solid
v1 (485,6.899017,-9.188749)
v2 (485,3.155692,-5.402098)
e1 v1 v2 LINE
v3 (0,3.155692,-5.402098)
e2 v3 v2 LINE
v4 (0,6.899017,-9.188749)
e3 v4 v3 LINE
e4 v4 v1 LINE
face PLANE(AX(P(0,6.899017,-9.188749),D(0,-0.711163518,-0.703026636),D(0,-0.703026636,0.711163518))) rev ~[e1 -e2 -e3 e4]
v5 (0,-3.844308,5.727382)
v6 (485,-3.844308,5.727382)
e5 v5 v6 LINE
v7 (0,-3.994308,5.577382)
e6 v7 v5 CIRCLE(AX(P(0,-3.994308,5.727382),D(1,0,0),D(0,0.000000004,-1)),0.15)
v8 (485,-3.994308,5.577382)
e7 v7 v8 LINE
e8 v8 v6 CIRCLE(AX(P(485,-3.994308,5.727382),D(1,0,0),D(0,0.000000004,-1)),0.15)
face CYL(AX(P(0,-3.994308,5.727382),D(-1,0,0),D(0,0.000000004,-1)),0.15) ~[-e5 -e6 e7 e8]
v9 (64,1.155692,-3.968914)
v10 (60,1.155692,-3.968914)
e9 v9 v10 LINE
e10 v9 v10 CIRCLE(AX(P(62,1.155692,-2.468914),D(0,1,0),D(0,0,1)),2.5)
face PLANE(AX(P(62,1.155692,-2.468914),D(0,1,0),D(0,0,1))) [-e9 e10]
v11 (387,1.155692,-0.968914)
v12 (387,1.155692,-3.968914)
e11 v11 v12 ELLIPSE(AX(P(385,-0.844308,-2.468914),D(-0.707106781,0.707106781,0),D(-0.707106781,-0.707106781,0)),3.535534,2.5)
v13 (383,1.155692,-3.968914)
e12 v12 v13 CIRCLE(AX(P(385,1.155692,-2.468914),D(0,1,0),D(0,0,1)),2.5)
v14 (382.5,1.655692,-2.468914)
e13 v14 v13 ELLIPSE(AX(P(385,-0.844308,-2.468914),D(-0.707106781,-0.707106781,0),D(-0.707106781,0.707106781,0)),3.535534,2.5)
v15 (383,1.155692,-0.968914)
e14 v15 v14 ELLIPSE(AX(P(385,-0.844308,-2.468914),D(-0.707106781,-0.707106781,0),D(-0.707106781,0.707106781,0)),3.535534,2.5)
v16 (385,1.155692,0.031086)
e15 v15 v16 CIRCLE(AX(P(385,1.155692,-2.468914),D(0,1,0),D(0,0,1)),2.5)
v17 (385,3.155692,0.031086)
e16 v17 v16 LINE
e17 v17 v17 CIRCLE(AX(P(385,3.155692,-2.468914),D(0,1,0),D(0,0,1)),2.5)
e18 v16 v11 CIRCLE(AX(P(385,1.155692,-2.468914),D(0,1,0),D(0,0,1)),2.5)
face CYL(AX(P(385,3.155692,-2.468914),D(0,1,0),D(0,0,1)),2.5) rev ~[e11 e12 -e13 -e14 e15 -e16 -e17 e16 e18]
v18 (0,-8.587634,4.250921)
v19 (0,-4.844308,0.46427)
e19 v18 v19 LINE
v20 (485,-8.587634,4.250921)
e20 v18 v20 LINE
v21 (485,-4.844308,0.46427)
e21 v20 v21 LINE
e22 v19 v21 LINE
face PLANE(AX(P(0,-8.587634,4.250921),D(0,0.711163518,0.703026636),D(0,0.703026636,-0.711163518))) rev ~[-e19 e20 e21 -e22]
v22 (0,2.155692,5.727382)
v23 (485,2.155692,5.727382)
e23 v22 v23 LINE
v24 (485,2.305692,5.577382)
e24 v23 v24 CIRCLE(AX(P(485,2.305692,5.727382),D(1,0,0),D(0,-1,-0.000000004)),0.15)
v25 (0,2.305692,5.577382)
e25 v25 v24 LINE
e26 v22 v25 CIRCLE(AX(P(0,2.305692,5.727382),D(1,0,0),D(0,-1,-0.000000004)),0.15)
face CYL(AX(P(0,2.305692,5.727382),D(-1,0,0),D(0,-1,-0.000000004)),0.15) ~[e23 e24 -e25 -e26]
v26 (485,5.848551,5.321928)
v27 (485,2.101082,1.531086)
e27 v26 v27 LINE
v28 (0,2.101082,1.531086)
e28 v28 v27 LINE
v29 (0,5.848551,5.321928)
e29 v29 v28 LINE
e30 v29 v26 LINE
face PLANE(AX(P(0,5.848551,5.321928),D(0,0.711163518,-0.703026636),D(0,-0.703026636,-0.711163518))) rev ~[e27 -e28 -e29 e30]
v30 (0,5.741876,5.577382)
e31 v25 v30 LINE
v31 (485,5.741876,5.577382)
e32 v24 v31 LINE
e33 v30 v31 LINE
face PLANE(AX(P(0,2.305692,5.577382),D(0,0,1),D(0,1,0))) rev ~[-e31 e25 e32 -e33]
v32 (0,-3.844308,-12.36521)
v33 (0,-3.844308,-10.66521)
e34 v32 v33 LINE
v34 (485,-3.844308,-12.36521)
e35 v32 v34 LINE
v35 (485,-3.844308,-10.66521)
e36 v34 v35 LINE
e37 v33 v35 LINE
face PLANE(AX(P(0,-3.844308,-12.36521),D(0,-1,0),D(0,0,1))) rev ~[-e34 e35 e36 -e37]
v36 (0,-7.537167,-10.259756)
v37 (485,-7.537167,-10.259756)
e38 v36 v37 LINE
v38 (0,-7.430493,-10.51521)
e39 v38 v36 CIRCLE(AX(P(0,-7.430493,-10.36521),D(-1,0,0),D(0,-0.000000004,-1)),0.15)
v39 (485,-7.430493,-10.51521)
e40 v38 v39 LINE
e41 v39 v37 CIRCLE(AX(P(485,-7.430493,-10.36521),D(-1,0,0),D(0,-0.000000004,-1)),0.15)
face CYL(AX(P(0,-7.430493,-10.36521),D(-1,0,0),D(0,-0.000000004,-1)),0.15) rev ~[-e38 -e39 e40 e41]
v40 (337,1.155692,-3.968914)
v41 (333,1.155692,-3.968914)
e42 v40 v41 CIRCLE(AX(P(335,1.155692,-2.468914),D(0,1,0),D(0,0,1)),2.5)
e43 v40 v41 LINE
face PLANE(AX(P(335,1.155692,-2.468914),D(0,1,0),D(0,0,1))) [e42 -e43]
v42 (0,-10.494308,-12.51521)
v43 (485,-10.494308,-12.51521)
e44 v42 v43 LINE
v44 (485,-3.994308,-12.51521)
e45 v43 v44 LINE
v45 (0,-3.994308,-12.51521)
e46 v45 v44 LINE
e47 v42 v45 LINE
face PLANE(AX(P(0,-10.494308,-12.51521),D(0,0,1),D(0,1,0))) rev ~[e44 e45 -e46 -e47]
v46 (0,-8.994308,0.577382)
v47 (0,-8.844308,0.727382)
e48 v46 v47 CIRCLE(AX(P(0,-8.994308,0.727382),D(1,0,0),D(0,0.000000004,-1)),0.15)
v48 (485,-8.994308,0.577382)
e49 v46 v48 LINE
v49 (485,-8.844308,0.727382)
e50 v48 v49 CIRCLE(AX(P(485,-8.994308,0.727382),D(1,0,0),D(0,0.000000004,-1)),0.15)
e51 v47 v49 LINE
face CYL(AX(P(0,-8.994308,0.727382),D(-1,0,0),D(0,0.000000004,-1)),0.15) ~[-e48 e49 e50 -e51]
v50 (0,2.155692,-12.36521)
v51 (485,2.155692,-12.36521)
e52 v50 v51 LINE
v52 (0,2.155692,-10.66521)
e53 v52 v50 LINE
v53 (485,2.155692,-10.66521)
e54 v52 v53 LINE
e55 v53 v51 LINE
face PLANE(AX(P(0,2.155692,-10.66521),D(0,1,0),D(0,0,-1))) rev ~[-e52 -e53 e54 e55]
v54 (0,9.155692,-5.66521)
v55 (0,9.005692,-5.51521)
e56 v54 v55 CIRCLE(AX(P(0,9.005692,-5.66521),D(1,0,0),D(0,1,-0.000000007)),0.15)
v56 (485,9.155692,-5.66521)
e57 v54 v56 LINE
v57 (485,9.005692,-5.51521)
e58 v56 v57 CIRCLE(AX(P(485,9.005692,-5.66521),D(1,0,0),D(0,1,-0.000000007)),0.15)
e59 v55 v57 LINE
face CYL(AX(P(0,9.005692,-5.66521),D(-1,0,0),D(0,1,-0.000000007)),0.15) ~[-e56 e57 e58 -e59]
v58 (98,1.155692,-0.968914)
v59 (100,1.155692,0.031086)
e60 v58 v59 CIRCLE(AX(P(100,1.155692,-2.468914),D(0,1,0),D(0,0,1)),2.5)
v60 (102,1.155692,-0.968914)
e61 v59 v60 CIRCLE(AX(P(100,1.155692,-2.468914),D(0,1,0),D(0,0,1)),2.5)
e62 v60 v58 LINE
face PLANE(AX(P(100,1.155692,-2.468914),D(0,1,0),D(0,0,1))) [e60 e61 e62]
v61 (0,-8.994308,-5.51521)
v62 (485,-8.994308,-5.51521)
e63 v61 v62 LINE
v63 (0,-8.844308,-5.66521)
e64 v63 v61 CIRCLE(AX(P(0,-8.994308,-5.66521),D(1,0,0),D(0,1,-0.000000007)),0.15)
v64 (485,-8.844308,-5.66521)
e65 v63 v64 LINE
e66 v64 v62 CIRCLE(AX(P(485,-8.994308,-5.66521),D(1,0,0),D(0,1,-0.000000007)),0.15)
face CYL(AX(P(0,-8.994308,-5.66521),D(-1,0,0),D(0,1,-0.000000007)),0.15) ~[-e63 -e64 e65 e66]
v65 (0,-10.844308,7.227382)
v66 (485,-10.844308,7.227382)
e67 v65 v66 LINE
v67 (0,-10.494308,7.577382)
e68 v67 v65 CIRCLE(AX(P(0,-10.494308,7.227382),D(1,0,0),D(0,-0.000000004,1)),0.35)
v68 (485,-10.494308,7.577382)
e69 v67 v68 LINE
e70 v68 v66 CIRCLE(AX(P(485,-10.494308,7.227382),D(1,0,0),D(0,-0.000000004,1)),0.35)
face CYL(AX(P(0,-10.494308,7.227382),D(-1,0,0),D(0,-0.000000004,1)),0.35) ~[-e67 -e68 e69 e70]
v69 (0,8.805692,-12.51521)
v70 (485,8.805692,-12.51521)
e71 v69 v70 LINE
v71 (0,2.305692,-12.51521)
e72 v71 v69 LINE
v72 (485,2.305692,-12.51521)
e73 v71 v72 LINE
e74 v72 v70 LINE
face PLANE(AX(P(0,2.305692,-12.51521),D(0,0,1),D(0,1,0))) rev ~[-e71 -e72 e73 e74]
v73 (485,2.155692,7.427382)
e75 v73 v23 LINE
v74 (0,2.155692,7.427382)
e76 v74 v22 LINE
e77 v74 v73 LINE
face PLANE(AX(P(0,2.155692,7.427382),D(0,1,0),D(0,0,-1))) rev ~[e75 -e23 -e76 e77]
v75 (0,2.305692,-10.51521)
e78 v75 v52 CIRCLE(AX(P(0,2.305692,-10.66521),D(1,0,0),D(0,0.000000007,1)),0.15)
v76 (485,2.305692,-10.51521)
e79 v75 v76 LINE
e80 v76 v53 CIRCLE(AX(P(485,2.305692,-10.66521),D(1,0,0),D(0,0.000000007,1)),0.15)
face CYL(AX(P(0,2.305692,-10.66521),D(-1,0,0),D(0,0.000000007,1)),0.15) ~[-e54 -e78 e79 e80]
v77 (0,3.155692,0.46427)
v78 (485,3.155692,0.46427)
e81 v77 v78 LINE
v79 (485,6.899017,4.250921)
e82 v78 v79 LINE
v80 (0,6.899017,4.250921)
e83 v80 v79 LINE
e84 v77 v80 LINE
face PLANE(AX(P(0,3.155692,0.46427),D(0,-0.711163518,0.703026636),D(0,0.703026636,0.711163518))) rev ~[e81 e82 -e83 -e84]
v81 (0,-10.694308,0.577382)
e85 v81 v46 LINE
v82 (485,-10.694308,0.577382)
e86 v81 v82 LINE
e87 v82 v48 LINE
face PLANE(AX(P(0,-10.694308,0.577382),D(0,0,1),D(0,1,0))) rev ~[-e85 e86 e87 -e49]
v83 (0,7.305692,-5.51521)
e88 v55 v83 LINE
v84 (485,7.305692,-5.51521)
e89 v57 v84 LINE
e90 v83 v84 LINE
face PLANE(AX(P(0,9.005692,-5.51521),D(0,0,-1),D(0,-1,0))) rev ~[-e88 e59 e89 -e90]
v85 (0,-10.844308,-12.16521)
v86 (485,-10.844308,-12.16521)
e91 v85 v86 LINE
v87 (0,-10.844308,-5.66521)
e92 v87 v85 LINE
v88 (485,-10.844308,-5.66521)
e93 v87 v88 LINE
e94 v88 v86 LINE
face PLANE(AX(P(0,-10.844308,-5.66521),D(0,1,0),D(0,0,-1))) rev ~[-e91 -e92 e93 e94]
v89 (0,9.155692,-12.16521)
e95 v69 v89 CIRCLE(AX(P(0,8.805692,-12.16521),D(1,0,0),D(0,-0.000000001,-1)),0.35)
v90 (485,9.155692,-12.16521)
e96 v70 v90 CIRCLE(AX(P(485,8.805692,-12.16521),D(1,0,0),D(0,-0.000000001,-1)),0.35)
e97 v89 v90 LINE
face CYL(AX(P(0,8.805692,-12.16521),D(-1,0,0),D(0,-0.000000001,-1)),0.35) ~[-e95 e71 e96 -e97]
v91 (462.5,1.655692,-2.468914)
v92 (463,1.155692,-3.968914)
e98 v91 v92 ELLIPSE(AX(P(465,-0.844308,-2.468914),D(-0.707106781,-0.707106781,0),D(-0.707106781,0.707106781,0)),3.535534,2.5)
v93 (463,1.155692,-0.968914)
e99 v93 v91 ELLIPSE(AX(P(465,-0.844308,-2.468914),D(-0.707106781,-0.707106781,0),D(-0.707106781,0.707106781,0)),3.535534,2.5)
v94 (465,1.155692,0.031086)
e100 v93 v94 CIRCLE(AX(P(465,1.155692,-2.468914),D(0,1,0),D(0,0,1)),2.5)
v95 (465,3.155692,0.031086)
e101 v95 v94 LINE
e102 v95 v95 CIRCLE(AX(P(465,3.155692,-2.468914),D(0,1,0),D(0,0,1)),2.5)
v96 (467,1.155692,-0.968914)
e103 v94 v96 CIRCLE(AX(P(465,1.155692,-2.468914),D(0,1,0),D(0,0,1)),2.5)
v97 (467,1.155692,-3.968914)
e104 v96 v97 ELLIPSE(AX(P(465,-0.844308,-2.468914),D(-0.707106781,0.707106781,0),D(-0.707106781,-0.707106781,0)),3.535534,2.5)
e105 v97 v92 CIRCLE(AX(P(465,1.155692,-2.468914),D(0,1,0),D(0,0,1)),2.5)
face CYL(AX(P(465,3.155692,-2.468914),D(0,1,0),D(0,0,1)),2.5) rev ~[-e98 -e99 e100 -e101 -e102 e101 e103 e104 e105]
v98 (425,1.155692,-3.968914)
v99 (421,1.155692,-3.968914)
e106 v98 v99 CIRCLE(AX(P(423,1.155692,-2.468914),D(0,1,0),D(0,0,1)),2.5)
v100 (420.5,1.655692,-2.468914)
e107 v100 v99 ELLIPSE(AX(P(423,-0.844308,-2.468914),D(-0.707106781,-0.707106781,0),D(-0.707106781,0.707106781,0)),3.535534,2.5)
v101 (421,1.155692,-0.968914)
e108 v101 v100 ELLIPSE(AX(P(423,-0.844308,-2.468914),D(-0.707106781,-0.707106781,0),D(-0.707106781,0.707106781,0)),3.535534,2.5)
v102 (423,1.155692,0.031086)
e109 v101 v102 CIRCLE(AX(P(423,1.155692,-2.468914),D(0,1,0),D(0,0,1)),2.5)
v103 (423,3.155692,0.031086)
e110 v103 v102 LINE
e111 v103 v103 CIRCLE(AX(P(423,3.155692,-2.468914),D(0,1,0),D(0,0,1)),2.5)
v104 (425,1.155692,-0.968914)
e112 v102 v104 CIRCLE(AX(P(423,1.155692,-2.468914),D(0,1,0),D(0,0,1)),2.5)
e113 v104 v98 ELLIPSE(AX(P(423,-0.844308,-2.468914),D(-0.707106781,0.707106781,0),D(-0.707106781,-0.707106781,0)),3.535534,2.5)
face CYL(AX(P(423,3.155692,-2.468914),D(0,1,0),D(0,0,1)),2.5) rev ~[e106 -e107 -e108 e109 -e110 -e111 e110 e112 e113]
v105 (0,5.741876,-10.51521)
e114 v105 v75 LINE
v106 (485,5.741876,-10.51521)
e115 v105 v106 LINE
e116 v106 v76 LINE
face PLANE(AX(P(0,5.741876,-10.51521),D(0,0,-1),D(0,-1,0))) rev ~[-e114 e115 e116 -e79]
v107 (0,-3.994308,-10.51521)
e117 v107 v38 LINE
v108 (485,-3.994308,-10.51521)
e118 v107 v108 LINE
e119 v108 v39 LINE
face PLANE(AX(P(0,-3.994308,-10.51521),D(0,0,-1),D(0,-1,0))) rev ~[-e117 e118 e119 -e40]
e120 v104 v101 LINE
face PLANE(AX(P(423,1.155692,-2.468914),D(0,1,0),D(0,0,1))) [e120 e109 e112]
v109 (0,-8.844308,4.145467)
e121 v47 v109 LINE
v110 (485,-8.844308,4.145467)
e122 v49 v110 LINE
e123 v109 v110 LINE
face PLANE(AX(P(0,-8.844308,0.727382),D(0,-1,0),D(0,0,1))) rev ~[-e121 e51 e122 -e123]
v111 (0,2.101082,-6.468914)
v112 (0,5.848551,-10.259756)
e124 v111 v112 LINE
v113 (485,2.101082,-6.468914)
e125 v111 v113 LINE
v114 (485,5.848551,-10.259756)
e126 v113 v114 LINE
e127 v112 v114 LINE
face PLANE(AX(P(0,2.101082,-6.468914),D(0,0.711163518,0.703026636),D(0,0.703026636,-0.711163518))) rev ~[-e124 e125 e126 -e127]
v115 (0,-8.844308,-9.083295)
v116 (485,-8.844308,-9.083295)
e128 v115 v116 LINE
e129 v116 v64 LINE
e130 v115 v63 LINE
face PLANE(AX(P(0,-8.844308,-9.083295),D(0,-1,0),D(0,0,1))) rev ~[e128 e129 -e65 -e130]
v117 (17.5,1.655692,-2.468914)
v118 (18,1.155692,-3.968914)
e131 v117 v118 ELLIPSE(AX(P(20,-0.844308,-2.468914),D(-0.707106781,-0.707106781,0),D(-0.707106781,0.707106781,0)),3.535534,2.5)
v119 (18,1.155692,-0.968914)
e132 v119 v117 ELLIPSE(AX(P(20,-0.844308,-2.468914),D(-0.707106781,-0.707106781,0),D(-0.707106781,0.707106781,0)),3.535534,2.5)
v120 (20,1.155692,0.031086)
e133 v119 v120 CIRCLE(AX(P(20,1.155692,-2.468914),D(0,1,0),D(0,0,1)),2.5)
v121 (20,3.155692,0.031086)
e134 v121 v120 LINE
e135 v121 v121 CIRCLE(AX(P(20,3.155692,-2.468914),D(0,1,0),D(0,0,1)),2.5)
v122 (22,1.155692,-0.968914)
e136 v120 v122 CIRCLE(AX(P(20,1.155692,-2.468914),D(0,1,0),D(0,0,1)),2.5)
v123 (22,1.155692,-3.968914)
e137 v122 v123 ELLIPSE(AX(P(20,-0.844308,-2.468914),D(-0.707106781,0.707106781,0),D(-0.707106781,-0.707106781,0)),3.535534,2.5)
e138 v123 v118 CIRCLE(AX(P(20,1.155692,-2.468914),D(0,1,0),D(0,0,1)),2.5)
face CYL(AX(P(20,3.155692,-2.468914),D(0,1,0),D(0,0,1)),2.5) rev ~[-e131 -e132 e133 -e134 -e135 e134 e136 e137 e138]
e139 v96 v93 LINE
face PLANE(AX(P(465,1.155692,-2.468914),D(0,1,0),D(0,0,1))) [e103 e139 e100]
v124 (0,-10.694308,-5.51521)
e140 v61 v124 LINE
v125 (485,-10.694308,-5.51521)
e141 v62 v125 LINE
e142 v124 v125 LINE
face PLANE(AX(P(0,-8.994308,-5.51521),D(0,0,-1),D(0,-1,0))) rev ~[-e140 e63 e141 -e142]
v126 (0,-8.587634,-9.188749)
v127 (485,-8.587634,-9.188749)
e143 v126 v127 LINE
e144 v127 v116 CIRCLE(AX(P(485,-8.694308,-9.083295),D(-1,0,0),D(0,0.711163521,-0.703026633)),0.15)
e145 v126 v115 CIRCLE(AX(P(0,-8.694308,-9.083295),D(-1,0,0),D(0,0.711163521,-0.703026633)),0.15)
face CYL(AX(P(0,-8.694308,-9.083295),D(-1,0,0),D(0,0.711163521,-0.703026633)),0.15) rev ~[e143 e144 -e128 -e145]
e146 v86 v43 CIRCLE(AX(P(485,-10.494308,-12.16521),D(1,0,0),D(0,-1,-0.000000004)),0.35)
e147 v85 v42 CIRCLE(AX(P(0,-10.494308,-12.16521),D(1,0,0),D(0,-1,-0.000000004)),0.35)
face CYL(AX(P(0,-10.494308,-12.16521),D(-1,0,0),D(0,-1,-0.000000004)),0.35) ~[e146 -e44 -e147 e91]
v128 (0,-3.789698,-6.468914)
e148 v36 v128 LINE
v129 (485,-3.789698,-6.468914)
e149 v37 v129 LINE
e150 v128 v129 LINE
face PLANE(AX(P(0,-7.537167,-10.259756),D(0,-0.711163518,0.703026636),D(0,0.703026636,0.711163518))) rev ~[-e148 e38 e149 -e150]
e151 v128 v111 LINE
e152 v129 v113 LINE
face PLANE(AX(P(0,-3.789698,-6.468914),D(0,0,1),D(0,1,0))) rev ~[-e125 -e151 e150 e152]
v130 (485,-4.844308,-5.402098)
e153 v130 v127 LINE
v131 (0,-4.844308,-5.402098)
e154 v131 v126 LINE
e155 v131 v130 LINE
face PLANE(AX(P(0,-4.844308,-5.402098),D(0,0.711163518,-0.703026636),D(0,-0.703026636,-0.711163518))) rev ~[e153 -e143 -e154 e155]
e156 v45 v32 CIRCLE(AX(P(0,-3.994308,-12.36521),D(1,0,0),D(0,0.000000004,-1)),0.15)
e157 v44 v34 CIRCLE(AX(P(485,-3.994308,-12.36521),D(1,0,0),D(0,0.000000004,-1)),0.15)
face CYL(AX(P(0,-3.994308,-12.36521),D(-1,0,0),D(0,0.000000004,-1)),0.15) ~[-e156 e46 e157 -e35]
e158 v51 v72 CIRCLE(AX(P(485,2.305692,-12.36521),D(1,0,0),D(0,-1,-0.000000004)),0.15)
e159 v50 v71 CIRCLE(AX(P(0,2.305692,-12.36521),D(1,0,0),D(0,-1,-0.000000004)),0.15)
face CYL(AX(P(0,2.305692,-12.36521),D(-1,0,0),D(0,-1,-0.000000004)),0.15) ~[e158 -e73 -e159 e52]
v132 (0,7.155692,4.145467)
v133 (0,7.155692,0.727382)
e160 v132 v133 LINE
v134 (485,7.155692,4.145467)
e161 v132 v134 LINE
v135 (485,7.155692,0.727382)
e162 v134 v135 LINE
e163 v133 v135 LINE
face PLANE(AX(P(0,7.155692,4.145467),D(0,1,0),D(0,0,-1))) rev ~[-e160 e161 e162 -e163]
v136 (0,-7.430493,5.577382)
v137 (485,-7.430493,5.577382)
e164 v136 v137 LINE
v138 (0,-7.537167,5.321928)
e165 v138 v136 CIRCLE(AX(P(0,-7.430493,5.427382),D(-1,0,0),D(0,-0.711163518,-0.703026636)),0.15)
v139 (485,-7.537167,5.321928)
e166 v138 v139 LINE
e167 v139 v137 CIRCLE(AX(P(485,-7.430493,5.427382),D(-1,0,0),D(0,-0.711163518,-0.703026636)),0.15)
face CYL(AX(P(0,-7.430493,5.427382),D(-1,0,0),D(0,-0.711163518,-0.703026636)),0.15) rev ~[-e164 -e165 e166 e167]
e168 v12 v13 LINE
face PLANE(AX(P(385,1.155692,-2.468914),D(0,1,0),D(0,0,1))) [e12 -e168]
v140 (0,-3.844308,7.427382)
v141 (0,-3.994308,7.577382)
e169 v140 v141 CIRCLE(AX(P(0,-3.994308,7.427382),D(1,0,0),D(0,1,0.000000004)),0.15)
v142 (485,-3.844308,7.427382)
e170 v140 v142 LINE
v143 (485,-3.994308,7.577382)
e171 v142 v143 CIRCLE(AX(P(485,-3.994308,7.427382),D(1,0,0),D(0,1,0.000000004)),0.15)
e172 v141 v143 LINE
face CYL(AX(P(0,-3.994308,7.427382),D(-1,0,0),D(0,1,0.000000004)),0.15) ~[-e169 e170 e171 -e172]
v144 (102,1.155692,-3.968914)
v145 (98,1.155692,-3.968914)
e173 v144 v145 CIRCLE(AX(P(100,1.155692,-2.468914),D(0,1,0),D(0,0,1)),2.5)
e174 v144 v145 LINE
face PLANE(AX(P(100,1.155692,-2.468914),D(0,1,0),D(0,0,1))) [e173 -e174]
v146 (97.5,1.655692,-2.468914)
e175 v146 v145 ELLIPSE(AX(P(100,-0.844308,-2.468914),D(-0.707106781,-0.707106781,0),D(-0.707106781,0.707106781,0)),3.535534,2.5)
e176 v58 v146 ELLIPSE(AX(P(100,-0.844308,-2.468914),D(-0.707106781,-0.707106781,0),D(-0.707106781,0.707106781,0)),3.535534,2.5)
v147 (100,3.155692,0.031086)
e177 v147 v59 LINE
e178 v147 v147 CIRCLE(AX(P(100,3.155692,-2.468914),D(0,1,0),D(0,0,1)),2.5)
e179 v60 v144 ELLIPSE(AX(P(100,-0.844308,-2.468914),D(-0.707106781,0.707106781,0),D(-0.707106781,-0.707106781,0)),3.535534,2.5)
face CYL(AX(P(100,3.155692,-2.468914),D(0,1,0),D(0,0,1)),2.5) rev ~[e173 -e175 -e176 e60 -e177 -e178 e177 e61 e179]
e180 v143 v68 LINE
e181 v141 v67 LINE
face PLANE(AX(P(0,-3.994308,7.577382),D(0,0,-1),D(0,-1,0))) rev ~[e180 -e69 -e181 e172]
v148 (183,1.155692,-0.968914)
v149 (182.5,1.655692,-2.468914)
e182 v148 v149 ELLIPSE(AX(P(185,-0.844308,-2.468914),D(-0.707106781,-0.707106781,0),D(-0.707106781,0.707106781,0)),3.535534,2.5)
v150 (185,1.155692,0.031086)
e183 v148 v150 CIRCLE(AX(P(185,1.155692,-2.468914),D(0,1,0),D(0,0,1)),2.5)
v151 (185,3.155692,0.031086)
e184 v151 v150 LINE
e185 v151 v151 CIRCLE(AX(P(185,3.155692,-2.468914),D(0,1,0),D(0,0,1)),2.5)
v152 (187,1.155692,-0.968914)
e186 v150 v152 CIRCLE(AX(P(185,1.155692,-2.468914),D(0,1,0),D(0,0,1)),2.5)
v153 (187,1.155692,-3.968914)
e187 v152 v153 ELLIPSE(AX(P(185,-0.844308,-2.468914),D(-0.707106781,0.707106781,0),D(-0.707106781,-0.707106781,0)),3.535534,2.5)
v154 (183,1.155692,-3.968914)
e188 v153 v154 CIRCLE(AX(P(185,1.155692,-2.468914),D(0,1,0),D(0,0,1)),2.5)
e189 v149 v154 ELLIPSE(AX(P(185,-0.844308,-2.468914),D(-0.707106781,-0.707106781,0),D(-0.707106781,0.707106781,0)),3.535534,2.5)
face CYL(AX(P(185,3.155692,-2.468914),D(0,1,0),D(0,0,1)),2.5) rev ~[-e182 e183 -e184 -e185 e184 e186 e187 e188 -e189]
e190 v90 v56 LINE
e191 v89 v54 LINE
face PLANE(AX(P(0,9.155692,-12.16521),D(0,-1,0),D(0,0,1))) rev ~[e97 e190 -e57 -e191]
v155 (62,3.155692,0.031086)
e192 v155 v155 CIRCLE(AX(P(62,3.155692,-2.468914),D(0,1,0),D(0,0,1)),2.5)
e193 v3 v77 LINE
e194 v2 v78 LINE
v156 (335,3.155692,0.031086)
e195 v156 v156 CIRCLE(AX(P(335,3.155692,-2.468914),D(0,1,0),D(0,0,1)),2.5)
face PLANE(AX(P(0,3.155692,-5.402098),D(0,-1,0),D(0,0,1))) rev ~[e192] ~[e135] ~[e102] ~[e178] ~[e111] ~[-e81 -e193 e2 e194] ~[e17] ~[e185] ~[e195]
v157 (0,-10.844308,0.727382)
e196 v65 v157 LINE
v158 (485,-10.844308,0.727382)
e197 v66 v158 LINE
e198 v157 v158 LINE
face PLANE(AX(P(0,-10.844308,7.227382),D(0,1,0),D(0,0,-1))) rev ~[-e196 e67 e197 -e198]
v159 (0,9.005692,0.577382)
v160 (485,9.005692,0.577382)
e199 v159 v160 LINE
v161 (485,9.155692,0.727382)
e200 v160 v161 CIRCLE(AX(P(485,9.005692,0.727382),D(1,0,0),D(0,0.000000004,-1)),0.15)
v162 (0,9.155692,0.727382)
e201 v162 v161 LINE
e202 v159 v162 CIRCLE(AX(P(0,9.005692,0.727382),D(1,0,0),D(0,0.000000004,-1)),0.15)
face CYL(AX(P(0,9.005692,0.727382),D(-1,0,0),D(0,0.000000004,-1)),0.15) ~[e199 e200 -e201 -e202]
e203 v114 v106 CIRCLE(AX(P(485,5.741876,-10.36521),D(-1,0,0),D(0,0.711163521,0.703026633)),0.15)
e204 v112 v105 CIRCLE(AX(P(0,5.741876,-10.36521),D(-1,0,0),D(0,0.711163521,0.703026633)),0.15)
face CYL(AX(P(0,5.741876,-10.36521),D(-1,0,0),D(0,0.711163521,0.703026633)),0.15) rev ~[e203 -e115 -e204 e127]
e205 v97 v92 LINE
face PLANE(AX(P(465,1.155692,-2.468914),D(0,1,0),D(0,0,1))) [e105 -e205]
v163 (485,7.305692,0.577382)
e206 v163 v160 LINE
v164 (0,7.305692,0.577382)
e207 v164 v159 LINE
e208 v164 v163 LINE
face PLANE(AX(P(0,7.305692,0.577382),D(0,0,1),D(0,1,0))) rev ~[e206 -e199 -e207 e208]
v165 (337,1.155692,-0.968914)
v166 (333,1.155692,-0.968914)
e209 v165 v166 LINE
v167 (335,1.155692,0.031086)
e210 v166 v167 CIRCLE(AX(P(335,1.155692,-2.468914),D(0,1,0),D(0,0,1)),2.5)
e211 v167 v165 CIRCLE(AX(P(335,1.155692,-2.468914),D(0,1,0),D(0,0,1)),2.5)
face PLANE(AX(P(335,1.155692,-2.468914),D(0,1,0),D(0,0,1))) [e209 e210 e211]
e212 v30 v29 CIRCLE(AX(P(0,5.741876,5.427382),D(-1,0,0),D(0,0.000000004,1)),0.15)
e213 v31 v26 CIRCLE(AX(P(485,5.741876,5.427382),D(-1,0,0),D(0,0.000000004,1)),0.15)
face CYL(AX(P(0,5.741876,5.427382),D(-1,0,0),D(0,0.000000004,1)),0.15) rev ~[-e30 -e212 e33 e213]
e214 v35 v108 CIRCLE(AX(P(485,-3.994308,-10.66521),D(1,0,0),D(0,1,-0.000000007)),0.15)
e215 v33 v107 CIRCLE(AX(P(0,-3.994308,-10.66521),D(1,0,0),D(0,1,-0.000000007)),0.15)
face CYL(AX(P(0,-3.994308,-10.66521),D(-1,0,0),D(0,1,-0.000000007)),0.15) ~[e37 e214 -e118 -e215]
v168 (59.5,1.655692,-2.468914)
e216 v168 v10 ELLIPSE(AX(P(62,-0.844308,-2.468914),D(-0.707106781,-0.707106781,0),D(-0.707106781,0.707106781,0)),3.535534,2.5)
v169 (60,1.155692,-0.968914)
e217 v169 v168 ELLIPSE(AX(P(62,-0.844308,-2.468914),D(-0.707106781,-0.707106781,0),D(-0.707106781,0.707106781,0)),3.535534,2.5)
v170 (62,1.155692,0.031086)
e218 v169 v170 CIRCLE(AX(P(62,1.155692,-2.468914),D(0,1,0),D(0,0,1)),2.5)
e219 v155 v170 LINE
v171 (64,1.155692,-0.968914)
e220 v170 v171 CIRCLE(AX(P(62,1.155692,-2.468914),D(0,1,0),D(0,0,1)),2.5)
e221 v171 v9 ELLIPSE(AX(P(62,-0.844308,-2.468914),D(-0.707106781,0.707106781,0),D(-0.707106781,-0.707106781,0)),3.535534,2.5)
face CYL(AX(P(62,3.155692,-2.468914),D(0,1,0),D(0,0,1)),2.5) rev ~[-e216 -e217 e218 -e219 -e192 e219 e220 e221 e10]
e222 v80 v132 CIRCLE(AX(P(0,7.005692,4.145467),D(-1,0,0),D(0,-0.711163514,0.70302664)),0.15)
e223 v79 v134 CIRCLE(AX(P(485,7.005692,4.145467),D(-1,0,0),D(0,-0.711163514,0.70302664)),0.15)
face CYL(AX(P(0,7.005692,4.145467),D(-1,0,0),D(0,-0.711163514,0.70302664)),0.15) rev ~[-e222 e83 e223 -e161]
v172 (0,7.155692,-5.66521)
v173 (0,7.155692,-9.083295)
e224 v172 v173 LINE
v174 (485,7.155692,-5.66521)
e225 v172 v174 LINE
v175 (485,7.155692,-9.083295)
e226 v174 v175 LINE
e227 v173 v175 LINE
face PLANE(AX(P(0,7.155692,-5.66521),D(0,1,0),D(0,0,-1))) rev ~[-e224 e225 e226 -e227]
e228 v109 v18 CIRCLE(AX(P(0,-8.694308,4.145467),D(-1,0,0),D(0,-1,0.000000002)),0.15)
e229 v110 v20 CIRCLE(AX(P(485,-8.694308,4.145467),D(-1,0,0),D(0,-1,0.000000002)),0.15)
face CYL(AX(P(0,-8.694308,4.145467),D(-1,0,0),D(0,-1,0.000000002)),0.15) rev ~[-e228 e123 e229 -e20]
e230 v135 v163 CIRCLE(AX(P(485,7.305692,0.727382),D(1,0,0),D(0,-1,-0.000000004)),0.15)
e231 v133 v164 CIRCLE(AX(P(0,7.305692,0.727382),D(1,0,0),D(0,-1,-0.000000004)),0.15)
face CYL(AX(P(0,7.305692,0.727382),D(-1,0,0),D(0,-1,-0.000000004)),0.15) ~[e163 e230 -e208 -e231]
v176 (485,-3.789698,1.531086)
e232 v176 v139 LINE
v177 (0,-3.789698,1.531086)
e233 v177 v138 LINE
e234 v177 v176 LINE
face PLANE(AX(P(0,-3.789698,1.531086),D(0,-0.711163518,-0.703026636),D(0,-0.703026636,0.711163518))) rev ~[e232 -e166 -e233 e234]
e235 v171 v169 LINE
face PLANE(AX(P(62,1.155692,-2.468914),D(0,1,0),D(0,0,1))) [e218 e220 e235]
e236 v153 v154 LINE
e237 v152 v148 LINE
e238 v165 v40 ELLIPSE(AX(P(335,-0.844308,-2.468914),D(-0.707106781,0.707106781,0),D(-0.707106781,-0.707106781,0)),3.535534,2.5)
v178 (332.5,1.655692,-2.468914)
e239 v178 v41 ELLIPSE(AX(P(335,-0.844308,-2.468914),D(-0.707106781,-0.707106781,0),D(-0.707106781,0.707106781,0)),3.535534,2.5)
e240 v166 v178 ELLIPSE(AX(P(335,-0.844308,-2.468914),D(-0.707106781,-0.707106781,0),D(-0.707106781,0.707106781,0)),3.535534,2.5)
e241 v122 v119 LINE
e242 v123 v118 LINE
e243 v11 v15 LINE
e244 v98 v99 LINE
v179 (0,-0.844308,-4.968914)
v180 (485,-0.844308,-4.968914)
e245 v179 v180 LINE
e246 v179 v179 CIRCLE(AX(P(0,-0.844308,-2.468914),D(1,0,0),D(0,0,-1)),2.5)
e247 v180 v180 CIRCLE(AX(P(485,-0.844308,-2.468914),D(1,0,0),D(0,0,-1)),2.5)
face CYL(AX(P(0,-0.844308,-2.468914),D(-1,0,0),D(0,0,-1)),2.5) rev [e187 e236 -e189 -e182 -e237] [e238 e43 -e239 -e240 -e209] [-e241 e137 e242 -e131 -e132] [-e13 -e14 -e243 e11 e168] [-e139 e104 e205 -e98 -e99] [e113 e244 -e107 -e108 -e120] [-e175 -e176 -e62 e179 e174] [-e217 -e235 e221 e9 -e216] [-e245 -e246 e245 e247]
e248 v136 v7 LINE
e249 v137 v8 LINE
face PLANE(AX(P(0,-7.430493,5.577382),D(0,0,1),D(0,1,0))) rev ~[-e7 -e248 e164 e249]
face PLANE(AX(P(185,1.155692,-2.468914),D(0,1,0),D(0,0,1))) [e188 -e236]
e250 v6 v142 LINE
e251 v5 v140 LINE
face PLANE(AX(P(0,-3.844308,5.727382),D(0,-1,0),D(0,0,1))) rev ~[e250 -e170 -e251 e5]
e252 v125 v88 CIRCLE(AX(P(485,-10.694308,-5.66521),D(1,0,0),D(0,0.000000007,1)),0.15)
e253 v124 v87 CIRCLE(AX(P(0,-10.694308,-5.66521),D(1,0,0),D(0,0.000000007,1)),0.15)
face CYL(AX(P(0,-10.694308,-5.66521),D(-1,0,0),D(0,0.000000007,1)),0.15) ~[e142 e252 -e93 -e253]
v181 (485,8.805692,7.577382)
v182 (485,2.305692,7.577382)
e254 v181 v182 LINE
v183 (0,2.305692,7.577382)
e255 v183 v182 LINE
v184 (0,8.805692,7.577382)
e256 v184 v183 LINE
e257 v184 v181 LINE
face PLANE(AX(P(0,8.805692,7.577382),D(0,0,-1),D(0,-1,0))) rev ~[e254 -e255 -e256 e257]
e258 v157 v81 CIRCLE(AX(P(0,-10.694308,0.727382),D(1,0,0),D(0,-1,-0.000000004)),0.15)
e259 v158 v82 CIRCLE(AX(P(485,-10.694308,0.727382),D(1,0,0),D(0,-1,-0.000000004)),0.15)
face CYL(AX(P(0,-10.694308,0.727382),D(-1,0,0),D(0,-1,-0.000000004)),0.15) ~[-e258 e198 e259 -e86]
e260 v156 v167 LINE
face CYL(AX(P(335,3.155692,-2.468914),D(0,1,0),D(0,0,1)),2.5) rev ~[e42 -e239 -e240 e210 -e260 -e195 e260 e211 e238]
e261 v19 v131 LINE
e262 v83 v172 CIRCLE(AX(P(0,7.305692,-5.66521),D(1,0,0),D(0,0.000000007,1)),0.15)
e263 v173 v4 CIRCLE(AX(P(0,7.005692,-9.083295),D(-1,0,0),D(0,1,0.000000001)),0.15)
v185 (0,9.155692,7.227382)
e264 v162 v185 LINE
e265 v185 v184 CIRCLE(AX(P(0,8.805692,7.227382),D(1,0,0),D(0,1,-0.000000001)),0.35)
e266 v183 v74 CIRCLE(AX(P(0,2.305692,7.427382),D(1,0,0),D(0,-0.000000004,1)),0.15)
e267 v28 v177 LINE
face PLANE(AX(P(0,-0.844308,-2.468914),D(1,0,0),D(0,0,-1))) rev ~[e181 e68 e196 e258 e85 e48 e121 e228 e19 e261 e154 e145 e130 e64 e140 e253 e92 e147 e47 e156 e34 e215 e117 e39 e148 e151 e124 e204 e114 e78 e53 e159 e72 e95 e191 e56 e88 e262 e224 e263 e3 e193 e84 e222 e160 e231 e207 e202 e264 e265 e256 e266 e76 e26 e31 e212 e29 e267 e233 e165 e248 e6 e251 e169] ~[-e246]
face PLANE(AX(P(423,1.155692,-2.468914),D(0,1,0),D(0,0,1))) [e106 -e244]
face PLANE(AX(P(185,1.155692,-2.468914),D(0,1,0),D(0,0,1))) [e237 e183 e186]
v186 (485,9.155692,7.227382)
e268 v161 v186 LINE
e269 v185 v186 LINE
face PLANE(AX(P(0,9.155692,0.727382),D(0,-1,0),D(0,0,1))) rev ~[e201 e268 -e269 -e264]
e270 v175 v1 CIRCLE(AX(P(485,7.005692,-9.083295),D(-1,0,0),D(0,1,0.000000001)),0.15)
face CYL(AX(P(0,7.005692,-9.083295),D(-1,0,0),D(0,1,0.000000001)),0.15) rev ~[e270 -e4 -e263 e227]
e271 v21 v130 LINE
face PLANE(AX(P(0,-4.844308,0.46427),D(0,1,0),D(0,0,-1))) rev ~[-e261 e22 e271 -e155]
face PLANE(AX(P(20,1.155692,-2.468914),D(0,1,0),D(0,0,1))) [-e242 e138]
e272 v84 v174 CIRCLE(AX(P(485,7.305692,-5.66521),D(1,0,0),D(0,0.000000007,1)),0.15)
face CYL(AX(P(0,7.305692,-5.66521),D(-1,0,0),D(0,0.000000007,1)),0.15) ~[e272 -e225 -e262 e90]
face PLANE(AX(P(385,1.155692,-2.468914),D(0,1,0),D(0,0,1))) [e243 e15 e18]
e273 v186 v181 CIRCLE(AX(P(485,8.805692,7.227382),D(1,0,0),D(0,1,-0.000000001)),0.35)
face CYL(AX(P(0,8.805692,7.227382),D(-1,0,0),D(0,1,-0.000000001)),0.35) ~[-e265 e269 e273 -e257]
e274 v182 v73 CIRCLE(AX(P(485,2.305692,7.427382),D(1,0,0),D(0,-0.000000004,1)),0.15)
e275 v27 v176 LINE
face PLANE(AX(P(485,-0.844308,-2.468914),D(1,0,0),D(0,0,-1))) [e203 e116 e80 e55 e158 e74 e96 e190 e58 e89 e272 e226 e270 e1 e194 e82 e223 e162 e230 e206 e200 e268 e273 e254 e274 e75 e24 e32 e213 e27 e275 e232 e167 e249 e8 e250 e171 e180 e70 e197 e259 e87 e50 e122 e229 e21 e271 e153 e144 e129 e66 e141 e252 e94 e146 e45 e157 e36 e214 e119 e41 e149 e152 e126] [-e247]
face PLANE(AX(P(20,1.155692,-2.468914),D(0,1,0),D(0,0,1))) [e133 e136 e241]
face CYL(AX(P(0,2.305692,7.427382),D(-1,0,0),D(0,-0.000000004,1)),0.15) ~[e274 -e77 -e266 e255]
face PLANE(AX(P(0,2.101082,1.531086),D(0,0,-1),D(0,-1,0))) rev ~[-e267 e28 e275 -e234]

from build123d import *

# Parameters (mm, degrees)
SKETCH1_R           = 2.5
BOSS_EXTRUDE1_DEPTH = 485
SKETCH2_R           = 2.5
CUT_EXTRUDE1_DEPTH  = 2


with BuildPart() as part:
    # Sketch1 → Boss-Extrude1 (new body)
    with BuildSketch(Plane(origin=(0, 0, 0), x_dir=(0, 0, -1), z_dir=(1, 0, 0))):
        with BuildLine():
            Line((-7.427382464, 2.155691805), (-5.727382464, 2.155691805))
            ThreePointArc((-5.727382464, 2.155691805), (-5.621316447, 2.199625788), (-5.577382464, 2.305691805))
            Line((-5.577382464, 2.305691805), (-5.577382464, 5.741876319))
            ThreePointArc((-5.577382464, 5.741876319), (-5.485183419, 5.880292537), (-5.321928469, 5.848550846))
            Line((-5.321928469, 5.848550846), (-1.531086168, 2.101082027))
            Line((-1.531086168, 2.101082027), (-1.531086168, -3.789698417))
            Line((-1.531086168, -3.789698417), (-5.321928469, -7.537167236))
            ThreePointArc((-5.321928469, -7.537167236), (-5.485183419, -7.568908927), (-5.577382464, -7.430492708))
            Line((-5.577382464, -7.430492708), (-5.577382464, -3.994308195))
            ThreePointArc((-5.577382464, -3.994308195), (-5.621316447, -3.888242178), (-5.727382464, -3.844308195))
            Line((-5.727382464, -3.844308195), (-7.427382464, -3.844308195))
            ThreePointArc((-7.427382464, -3.844308195), (-7.533448481, -3.888242178), (-7.577382464, -3.994308195))
            Line((-7.577382464, -3.994308195), (-7.577382464, -10.494308195))
            ThreePointArc((-7.577382464, -10.494308195), (-7.474869837, -10.741795568), (-7.227382464, -10.844308195))
            Line((-7.227382464, -10.844308195), (-0.727382464, -10.844308195))
            ThreePointArc((-0.727382464, -10.844308195), (-0.621316447, -10.800374212), (-0.577382464, -10.694308195))
            Line((-0.577382464, -10.694308195), (-0.577382464, -8.994308195))
            ThreePointArc((-0.577382464, -8.994308195), (-0.621316447, -8.888242178), (-0.727382464, -8.844308195))
            Line((-0.727382464, -8.844308195), (-4.145467261, -8.844308195))
            ThreePointArc((-4.145467261, -8.844308195), (-4.284213755, -8.751311795), (-4.250921257, -8.587633667))
            Line((-4.250921257, -8.587633667), (-0.464270258, -4.844308195))
            Line((-0.464270258, -4.844308195), (5.402097922, -4.844308195))
            Line((5.402097922, -4.844308195), (9.188748921, -8.587633667))
            ThreePointArc((9.188748921, -8.587633667), (9.22204142, -8.751311795), (9.083294926, -8.844308195))
            Line((9.083294926, -8.844308195), (5.665210129, -8.844308195))
            ThreePointArc((5.665210129, -8.844308195), (5.559144111, -8.888242178), (5.515210129, -8.994308195))
            Line((5.515210129, -8.994308195), (5.515210129, -10.694308195))
            ThreePointArc((5.515210129, -10.694308195), (5.559144111, -10.800374212), (5.665210129, -10.844308195))
            Line((5.665210129, -10.844308195), (12.165210129, -10.844308195))
            ThreePointArc((12.165210129, -10.844308195), (12.412697502, -10.741795568), (12.515210129, -10.494308195))
            Line((12.515210129, -10.494308195), (12.515210129, -3.994308195))
            ThreePointArc((12.515210129, -3.994308195), (12.471276146, -3.888242178), (12.365210129, -3.844308195))
            Line((12.365210129, -3.844308195), (10.665210129, -3.844308195))
            ThreePointArc((10.665210129, -3.844308195), (10.559144111, -3.888242178), (10.515210129, -3.994308195))
            Line((10.515210129, -3.994308195), (10.515210129, -7.430492708))
            ThreePointArc((10.515210129, -7.430492708), (10.423011083, -7.568908927), (10.259756133, -7.537167236))
            Line((10.259756133, -7.537167236), (6.468913832, -3.789698417))
            Line((6.468913832, -3.789698417), (6.468913832, 2.101082027))
            Line((6.468913832, 2.101082027), (10.259756133, 5.848550846))
            ThreePointArc((10.259756133, 5.848550846), (10.423011083, 5.880292537), (10.515210129, 5.741876319))
            Line((10.515210129, 5.741876319), (10.515210129, 2.305691805))
            ThreePointArc((10.515210129, 2.305691805), (10.559144111, 2.199625788), (10.665210129, 2.155691805))
            Line((10.665210129, 2.155691805), (12.365210129, 2.155691805))
            ThreePointArc((12.365210129, 2.155691805), (12.471276146, 2.199625788), (12.515210129, 2.305691805))
            Line((12.515210129, 2.305691805), (12.515210129, 8.805691805))
            ThreePointArc((12.515210129, 8.805691805), (12.412697502, 9.053179179), (12.165210129, 9.155691805))
            Line((12.165210129, 9.155691805), (5.665210129, 9.155691805))
            ThreePointArc((5.665210129, 9.155691805), (5.559144111, 9.111757822), (5.515210129, 9.005691805))
            Line((5.515210129, 9.005691805), (5.515210129, 7.305691805))
            ThreePointArc((5.515210129, 7.305691805), (5.559144111, 7.199625788), (5.665210129, 7.155691805))
            Line((5.665210129, 7.155691805), (9.083294926, 7.155691805))
            ThreePointArc((9.083294926, 7.155691805), (9.22204142, 7.062695405), (9.188748921, 6.899017277))
            Line((9.188748921, 6.899017277), (5.402097922, 3.155691805))
            Line((5.402097922, 3.155691805), (-0.464270258, 3.155691805))
            Line((-0.464270258, 3.155691805), (-4.250921257, 6.899017277))
            ThreePointArc((-4.250921257, 6.899017277), (-4.284213755, 7.062695405), (-4.145467261, 7.155691805))
            Line((-4.145467261, 7.155691805), (-0.727382464, 7.155691805))
            ThreePointArc((-0.727382464, 7.155691805), (-0.621316447, 7.199625788), (-0.577382464, 7.305691805))
            Line((-0.577382464, 7.305691805), (-0.577382464, 9.005691805))
            ThreePointArc((-0.577382464, 9.005691805), (-0.621316447, 9.111757822), (-0.727382464, 9.155691805))
            Line((-0.727382464, 9.155691805), (-7.227382464, 9.155691805))
            ThreePointArc((-7.227382464, 9.155691805), (-7.474869837, 9.053179179), (-7.577382464, 8.805691805))
            Line((-7.577382464, 8.805691805), (-7.577382464, 2.305691805))
            ThreePointArc((-7.577382464, 2.305691805), (-7.533448481, 2.199625788), (-7.427382464, 2.155691805))
        make_face()
        with Locations((2.468913832, -0.844308195)):
            Circle(SKETCH1_R, mode=Mode.SUBTRACT)
    extrude(amount=BOSS_EXTRUDE1_DEPTH)

    # Sketch2 → Cut-Extrude1 (cut)
    with BuildSketch(Plane(origin=(0, 3.155691805, 0), x_dir=(1, 0, 0), z_dir=(0, 1, 0))):
        with Locations(Location((20, 2.468913832, 0), (0, 0, 270))):
            Circle(SKETCH2_R)
        with Locations(Location((185, 2.468913832, 0), (0, 0, 270))):
            Circle(SKETCH2_R)
        with Locations(Location((465, 2.468913832, 0), (0, 0, 270))):
            Circle(SKETCH2_R)
        with Locations(Location((62, 2.468913832, 0), (0, 0, 270))):
            Circle(SKETCH2_R)
        with Locations(Location((423, 2.468913832, 0), (0, 0, 270))):
            Circle(SKETCH2_R)
        with Locations(Location((335, 2.468913832, 0), (0, 0, 270))):
            Circle(SKETCH2_R)
        with Locations(Location((385, 2.468913832, 0), (0, 0, 270))):
            Circle(SKETCH2_R)
        with Locations(Location((100, 2.468913832, 0), (0, 0, 270))):
            Circle(SKETCH2_R)
    extrude(amount=-CUT_EXTRUDE1_DEPTH, mode=Mode.SUBTRACT)


solid = part.part
